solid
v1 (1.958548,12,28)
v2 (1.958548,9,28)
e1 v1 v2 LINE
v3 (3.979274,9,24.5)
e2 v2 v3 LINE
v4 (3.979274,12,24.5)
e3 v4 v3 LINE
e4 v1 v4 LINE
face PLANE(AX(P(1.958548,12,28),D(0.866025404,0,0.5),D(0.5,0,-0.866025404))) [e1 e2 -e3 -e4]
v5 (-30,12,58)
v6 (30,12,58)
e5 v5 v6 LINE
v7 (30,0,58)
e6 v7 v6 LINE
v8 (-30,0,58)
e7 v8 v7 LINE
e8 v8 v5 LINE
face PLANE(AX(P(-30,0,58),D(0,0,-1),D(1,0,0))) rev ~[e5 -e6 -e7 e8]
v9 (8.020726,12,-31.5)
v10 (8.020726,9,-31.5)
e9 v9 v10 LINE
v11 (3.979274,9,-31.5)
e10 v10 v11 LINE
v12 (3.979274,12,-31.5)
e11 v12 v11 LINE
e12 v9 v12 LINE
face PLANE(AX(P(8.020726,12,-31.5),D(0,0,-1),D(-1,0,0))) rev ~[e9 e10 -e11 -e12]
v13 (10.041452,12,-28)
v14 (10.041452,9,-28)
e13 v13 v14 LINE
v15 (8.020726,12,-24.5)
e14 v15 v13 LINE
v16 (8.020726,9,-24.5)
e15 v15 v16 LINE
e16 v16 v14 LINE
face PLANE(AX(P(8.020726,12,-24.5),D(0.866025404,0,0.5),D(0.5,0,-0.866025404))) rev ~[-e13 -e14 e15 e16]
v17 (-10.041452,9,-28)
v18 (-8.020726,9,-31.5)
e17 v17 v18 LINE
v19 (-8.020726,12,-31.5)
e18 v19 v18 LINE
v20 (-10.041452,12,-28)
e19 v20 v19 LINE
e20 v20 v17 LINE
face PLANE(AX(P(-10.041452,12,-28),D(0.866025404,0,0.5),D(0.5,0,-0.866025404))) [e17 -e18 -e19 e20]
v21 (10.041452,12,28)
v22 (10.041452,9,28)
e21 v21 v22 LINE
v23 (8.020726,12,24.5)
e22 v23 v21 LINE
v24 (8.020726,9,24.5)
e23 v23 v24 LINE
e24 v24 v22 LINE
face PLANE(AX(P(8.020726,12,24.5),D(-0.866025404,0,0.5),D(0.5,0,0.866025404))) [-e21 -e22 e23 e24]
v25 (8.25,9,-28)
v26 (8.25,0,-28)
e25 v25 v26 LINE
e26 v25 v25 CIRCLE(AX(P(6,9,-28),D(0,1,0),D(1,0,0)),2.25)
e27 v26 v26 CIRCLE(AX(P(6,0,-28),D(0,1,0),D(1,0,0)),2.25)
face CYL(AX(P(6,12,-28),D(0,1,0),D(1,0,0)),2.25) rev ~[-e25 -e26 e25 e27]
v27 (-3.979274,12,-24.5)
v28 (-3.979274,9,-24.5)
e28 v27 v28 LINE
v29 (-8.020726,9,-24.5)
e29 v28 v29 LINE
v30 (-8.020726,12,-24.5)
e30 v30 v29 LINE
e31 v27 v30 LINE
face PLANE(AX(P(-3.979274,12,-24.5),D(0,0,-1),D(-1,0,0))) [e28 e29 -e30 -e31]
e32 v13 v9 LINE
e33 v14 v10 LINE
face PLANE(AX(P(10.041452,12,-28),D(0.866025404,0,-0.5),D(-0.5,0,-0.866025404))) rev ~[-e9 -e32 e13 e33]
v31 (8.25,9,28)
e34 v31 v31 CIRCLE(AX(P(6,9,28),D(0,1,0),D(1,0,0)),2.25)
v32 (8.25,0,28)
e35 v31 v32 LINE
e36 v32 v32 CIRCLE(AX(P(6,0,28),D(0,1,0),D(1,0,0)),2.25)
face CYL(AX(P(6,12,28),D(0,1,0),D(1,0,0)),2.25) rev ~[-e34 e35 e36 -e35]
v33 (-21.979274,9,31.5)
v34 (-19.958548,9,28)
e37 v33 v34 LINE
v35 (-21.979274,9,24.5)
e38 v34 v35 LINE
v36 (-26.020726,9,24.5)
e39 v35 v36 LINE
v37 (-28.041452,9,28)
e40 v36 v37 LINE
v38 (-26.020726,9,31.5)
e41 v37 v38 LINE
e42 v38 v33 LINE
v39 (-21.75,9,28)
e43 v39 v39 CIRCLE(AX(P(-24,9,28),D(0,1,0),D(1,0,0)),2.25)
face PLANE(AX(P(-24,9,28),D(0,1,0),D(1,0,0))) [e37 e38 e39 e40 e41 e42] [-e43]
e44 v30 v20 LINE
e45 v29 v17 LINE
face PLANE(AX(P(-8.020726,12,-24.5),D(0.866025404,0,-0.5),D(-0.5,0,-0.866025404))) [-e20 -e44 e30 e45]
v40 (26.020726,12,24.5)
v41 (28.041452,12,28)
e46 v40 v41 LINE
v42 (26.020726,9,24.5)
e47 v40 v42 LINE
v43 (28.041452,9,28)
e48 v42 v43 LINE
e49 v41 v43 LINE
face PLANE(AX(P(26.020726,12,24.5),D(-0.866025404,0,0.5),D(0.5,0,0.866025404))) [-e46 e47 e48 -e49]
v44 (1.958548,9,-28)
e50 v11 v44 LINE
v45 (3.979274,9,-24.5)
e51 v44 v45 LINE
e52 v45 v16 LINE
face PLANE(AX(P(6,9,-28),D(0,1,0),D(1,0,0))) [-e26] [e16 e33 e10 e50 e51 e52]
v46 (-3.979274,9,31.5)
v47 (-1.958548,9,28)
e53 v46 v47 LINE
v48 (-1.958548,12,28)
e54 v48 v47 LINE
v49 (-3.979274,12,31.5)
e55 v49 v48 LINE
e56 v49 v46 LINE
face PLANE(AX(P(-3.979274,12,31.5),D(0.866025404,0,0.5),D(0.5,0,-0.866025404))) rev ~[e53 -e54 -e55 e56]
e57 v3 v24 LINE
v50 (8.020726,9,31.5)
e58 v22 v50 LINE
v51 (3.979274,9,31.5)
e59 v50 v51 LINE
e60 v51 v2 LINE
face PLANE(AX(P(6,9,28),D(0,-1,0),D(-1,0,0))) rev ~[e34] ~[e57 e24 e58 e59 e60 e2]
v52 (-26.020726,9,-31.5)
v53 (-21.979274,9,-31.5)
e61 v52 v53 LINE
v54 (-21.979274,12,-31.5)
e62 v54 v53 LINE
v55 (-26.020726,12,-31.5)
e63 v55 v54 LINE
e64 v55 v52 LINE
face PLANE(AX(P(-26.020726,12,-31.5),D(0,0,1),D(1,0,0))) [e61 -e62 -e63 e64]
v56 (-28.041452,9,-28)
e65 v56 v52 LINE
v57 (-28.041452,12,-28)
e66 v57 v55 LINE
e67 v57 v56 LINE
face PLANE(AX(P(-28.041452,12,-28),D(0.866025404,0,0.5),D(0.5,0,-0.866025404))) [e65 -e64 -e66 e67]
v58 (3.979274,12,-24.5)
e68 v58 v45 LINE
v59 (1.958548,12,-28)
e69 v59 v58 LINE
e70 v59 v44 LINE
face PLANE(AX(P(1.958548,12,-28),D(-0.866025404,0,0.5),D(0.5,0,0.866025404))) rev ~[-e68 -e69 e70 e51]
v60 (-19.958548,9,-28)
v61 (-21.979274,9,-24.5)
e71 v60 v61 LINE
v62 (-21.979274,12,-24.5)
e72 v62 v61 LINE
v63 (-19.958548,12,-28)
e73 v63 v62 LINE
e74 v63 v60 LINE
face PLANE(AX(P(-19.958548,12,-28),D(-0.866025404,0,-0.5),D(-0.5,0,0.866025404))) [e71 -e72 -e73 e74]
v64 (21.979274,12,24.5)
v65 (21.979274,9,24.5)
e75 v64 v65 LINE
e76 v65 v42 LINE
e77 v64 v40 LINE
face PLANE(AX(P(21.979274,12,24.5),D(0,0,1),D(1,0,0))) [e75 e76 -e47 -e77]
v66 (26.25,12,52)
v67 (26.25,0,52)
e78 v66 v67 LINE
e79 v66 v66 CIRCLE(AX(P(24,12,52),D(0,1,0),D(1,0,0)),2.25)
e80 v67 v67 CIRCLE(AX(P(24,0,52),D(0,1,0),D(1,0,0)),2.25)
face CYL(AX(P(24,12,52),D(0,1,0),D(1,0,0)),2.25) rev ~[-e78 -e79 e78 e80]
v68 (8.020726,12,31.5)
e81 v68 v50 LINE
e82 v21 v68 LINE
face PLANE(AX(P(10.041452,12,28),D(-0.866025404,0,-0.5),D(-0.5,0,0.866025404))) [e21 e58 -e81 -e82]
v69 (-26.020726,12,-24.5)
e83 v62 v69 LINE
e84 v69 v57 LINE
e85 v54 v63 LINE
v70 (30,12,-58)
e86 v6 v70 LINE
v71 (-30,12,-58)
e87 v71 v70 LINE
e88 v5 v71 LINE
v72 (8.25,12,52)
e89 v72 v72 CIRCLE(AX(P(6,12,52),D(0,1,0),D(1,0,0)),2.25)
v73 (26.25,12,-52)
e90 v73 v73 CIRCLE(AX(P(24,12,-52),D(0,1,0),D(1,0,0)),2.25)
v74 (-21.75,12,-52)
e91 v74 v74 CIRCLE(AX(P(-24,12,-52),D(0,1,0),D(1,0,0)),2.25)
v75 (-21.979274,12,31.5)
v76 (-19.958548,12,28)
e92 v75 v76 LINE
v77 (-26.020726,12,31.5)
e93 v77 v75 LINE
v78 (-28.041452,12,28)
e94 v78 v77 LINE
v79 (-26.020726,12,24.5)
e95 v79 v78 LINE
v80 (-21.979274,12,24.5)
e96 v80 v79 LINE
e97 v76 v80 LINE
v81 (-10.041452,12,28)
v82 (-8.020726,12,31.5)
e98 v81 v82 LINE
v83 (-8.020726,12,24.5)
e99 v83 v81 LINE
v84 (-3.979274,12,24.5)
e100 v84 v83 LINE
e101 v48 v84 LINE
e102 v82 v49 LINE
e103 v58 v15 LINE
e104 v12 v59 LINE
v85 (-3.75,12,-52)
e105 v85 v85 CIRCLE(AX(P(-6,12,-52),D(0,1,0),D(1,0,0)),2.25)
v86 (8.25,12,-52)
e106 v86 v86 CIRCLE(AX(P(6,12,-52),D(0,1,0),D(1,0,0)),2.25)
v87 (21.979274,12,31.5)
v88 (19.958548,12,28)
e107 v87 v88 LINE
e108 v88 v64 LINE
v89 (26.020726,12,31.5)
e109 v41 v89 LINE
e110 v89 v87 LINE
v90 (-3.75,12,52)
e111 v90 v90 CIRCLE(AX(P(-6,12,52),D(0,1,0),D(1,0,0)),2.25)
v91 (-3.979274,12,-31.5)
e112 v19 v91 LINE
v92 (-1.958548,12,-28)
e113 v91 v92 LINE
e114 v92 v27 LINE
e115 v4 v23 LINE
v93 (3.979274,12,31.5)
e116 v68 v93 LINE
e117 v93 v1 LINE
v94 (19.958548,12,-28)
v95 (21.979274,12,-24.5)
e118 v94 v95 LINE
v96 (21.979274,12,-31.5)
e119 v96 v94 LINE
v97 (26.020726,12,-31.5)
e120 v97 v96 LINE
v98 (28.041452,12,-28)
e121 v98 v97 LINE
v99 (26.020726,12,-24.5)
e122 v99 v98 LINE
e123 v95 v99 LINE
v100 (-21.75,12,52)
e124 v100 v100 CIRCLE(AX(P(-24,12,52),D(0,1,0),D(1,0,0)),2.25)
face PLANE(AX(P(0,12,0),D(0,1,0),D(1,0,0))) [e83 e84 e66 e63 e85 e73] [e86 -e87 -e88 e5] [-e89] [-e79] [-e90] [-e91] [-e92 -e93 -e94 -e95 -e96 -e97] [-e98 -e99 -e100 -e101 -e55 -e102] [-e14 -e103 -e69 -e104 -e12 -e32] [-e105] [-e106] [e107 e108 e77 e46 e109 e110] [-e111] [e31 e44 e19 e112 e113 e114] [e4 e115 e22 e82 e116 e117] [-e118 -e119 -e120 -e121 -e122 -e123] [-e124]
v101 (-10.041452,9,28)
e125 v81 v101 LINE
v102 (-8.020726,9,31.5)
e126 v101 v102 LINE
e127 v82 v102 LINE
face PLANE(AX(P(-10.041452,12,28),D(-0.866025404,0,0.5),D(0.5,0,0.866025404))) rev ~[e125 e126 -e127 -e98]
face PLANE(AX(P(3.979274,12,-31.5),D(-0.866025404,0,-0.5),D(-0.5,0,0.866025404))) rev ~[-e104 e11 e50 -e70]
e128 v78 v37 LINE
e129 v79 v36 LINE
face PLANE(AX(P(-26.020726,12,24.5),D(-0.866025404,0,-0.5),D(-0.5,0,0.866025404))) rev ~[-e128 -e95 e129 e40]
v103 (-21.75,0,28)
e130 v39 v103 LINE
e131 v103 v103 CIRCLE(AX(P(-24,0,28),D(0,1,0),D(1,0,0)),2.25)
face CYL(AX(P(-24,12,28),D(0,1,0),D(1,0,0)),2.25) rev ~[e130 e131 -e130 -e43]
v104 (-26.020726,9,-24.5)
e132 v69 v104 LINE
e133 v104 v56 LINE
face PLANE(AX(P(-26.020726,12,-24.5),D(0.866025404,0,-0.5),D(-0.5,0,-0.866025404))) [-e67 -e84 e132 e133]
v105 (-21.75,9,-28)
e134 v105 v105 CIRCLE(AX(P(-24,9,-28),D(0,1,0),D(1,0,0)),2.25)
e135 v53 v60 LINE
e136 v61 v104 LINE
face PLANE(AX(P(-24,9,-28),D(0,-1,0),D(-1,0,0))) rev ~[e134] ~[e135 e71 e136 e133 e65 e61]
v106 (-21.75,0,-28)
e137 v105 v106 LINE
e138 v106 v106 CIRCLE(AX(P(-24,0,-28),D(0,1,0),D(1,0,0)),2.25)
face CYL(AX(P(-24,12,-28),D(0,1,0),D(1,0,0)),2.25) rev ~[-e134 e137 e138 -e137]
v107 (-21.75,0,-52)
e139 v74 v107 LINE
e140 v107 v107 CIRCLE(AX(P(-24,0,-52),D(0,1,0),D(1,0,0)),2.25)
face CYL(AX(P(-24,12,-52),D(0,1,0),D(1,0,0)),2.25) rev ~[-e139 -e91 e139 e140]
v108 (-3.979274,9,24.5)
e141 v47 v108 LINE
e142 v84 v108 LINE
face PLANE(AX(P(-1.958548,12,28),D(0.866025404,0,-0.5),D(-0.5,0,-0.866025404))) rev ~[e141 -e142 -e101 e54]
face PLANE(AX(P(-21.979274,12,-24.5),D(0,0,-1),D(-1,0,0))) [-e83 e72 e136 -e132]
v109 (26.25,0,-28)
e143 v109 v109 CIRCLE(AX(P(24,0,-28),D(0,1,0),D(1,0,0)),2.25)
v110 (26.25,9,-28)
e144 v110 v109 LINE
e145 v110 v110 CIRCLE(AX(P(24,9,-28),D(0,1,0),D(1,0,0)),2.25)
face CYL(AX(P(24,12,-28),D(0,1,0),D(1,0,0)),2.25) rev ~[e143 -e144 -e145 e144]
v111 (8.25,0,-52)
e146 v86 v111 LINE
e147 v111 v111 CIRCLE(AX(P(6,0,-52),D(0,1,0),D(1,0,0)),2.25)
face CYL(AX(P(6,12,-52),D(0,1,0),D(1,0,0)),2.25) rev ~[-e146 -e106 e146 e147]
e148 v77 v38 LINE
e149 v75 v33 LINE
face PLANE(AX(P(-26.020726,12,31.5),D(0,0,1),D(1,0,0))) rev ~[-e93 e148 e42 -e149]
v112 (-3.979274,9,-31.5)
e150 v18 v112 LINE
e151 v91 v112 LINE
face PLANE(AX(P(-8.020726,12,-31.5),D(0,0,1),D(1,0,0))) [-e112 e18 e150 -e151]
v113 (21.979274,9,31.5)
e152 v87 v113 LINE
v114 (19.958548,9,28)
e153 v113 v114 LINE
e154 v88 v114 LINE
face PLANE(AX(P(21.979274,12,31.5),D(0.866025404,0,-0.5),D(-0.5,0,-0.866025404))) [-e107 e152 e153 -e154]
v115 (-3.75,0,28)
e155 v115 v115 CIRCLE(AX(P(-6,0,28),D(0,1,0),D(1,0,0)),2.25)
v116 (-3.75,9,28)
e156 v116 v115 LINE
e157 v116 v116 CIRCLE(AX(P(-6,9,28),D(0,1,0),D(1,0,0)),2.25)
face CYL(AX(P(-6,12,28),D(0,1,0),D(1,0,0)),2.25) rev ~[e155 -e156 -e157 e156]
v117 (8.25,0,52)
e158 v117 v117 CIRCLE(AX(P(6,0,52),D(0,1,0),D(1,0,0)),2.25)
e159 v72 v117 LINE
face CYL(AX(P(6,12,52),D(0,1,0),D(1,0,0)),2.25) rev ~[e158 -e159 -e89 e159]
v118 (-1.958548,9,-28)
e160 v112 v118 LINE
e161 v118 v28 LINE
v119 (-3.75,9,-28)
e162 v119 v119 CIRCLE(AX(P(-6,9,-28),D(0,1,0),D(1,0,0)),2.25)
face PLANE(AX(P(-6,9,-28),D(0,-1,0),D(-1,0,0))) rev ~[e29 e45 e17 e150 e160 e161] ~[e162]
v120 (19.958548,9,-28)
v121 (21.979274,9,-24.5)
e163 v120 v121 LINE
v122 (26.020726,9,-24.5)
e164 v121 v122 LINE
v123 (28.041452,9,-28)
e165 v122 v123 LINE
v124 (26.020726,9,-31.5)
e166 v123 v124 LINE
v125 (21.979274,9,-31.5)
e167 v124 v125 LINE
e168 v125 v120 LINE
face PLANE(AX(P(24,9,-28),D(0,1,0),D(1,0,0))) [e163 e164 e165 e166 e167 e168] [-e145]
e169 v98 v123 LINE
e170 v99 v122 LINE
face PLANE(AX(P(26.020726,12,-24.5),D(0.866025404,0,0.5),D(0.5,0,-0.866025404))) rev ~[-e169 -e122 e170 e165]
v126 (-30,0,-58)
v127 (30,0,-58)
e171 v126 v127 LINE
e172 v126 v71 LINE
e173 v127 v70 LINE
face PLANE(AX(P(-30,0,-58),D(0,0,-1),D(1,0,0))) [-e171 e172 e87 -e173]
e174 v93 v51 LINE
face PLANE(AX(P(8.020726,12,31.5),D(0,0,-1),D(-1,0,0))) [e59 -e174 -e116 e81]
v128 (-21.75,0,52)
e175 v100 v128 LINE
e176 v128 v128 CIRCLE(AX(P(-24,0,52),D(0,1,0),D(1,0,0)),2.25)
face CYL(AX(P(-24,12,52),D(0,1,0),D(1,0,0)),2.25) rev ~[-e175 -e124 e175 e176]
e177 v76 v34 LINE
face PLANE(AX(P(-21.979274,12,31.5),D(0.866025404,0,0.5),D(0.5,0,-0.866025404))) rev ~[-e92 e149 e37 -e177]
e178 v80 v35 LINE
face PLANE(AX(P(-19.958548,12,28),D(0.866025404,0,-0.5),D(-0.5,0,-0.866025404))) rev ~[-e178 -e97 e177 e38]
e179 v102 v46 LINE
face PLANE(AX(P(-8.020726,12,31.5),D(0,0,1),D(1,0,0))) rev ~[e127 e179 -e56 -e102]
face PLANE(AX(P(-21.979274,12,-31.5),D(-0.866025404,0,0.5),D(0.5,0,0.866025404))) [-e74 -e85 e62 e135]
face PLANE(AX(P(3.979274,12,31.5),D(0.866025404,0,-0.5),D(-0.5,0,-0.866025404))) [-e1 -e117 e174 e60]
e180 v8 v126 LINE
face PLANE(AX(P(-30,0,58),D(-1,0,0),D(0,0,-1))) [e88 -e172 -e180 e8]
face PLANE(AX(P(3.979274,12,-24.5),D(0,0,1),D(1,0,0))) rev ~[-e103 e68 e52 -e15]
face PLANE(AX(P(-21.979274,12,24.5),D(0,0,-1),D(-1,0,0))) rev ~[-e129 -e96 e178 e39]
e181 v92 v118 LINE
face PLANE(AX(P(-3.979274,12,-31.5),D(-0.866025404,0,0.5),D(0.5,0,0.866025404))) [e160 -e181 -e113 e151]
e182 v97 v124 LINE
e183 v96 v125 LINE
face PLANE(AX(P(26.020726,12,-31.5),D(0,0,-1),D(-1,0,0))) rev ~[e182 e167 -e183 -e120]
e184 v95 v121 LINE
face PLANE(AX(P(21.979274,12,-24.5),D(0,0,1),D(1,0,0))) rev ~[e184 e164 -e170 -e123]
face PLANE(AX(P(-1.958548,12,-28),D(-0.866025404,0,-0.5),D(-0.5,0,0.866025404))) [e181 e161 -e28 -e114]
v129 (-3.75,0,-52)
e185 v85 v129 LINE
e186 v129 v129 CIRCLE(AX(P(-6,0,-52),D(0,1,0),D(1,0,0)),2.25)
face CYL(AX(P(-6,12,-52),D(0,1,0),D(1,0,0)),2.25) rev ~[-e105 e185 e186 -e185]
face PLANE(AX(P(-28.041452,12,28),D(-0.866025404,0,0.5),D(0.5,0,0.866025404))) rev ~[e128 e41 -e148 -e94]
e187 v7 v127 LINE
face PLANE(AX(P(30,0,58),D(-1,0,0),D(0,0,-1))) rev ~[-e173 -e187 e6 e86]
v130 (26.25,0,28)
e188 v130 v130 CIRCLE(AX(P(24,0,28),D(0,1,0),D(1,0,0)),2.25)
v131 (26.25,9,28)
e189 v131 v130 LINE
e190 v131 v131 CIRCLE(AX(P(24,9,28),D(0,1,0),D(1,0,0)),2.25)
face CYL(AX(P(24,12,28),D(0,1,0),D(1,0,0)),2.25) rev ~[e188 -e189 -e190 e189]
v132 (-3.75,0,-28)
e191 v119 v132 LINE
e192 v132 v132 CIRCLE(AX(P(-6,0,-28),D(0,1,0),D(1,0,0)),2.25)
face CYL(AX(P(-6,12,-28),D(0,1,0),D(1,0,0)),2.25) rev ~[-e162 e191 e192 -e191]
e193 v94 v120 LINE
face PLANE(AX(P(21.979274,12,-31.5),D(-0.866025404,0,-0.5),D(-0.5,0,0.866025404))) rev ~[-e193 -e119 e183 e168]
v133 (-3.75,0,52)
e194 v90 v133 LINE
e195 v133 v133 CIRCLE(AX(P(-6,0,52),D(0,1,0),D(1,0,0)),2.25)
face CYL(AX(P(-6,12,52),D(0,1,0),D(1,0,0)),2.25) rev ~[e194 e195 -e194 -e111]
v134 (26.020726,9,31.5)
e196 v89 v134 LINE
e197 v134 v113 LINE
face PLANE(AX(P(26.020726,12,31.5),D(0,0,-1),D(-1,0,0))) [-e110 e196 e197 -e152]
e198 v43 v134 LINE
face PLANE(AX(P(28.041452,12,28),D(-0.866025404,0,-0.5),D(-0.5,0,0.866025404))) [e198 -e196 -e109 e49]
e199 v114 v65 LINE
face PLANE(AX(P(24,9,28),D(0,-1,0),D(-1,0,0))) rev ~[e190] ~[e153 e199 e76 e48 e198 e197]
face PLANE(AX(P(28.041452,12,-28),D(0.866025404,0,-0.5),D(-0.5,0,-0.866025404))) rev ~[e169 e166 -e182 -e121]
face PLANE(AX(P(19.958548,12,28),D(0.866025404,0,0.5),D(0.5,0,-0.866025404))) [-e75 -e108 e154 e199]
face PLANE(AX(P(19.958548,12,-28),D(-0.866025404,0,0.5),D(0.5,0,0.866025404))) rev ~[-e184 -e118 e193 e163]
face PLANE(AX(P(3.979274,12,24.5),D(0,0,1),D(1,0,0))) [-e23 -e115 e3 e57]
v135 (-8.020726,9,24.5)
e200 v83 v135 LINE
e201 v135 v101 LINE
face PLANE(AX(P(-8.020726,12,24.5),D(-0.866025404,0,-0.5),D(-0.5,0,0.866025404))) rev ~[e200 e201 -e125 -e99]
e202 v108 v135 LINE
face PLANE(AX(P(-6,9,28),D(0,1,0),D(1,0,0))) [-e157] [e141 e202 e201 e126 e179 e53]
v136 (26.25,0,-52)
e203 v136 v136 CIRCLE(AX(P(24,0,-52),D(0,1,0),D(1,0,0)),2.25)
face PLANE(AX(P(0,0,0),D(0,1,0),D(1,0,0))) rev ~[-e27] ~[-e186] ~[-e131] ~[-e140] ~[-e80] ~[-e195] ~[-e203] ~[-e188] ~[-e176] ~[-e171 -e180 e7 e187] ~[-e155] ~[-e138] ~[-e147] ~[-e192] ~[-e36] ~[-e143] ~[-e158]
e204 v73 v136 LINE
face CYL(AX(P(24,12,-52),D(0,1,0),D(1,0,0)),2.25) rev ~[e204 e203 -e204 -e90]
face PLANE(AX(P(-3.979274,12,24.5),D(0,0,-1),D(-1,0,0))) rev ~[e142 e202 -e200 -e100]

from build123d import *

# Parameters (mm, degrees)
SKETCH1_W                      = 60
SKETCH1_H                      = 116
BOSS_EXTRUDE1_DEPTH            = 12
CUT_EXTRUDE1_REACH             = 14
SKETCH2_R                      = 2.25
CUT_EXTRUDE1_DIRECTION_2_DEPTH = 1
CUT_EXTRUDE2_DEPTH             = 1
CUT_EXTRUDE2_DEPTH_BACK        = 3


with BuildPart() as part:
    # Sketch1 → Boss-Extrude1 (new body)
    with BuildSketch(Plane(origin=(0, 0, 0), x_dir=(1, 0, 0), z_dir=(0, 1, 0))):
        Rectangle(SKETCH1_W, SKETCH1_H)
    extrude(amount=BOSS_EXTRUDE1_DEPTH)

    # Sketch2 → Cut-Extrude1 (cut, up to next)
    with BuildSketch(Plane(origin=(0, 12, 0), x_dir=(1, 0, 0), z_dir=(0, 1, 0)), mode=Mode.PRIVATE) as cut_extrude1_sk1:
        with Locations((-24, 52)):
            Circle(SKETCH2_R)
    cut_extrude1_tool1 = extrude(cut_extrude1_sk1.sketch, amount=-CUT_EXTRUDE1_REACH, mode=Mode.PRIVATE) & part.part
    add(cut_extrude1_tool1.solids().sort_by_distance((-24, 12, -52))[0], mode=Mode.SUBTRACT)
    # Sketch2 → Cut-Extrude1 (cut, up to next)
    with BuildSketch(Plane(origin=(0, 12, 0), x_dir=(1, 0, 0), z_dir=(0, 1, 0)), mode=Mode.PRIVATE) as cut_extrude1_sk2:
        with Locations((-6, 52)):
            Circle(SKETCH2_R)
    cut_extrude1_tool2 = extrude(cut_extrude1_sk2.sketch, amount=-CUT_EXTRUDE1_REACH, mode=Mode.PRIVATE) & part.part
    add(cut_extrude1_tool2.solids().sort_by_distance((-6, 12, -52))[0], mode=Mode.SUBTRACT)
    # Sketch2 → Cut-Extrude1 (cut, up to next)
    with BuildSketch(Plane(origin=(0, 12, 0), x_dir=(1, 0, 0), z_dir=(0, 1, 0)), mode=Mode.PRIVATE) as cut_extrude1_sk3:
        with Locations((-24, 28)):
            Circle(SKETCH2_R)
    cut_extrude1_tool3 = extrude(cut_extrude1_sk3.sketch, amount=-CUT_EXTRUDE1_REACH, mode=Mode.PRIVATE) & part.part
    add(cut_extrude1_tool3.solids().sort_by_distance((-24, 12, -28))[0], mode=Mode.SUBTRACT)
    # Sketch2 → Cut-Extrude1 (cut, up to next)
    with BuildSketch(Plane(origin=(0, 12, 0), x_dir=(1, 0, 0), z_dir=(0, 1, 0)), mode=Mode.PRIVATE) as cut_extrude1_sk4:
        with Locations((-6, 28)):
            Circle(SKETCH2_R)
    cut_extrude1_tool4 = extrude(cut_extrude1_sk4.sketch, amount=-CUT_EXTRUDE1_REACH, mode=Mode.PRIVATE) & part.part
    add(cut_extrude1_tool4.solids().sort_by_distance((-6, 12, -28))[0], mode=Mode.SUBTRACT)
    # Sketch2 → Cut-Extrude1 (cut, up to next)
    with BuildSketch(Plane(origin=(0, 12, 0), x_dir=(1, 0, 0), z_dir=(0, 1, 0)), mode=Mode.PRIVATE) as cut_extrude1_sk5:
        with Locations((6, 28)):
            Circle(SKETCH2_R)
    cut_extrude1_tool5 = extrude(cut_extrude1_sk5.sketch, amount=-CUT_EXTRUDE1_REACH, mode=Mode.PRIVATE) & part.part
    add(cut_extrude1_tool5.solids().sort_by_distance((6, 12, -28))[0], mode=Mode.SUBTRACT)
    # Sketch2 → Cut-Extrude1 (cut, up to next)
    with BuildSketch(Plane(origin=(0, 12, 0), x_dir=(1, 0, 0), z_dir=(0, 1, 0)), mode=Mode.PRIVATE) as cut_extrude1_sk6:
        with Locations((24, 28)):
            Circle(SKETCH2_R)
    cut_extrude1_tool6 = extrude(cut_extrude1_sk6.sketch, amount=-CUT_EXTRUDE1_REACH, mode=Mode.PRIVATE) & part.part
    add(cut_extrude1_tool6.solids().sort_by_distance((24, 12, -28))[0], mode=Mode.SUBTRACT)
    # Sketch2 → Cut-Extrude1 (cut, up to next)
    with BuildSketch(Plane(origin=(0, 12, 0), x_dir=(1, 0, 0), z_dir=(0, 1, 0)), mode=Mode.PRIVATE) as cut_extrude1_sk7:
        with Locations((6, 52)):
            Circle(SKETCH2_R)
    cut_extrude1_tool7 = extrude(cut_extrude1_sk7.sketch, amount=-CUT_EXTRUDE1_REACH, mode=Mode.PRIVATE) & part.part
    add(cut_extrude1_tool7.solids().sort_by_distance((6, 12, -52))[0], mode=Mode.SUBTRACT)
    # Sketch2 → Cut-Extrude1 (cut, up to next)
    with BuildSketch(Plane(origin=(0, 12, 0), x_dir=(1, 0, 0), z_dir=(0, 1, 0)), mode=Mode.PRIVATE) as cut_extrude1_sk8:
        with Locations((24, 52)):
            Circle(SKETCH2_R)
    cut_extrude1_tool8 = extrude(cut_extrude1_sk8.sketch, amount=-CUT_EXTRUDE1_REACH, mode=Mode.PRIVATE) & part.part
    add(cut_extrude1_tool8.solids().sort_by_distance((24, 12, -52))[0], mode=Mode.SUBTRACT)
    # Sketch2 → Cut-Extrude1 (cut, up to next)
    with BuildSketch(Plane(origin=(0, 12, 0), x_dir=(1, 0, 0), z_dir=(0, 1, 0)), mode=Mode.PRIVATE) as cut_extrude1_sk9:
        with Locations((24, -52)):
            Circle(SKETCH2_R)
    cut_extrude1_tool9 = extrude(cut_extrude1_sk9.sketch, amount=-CUT_EXTRUDE1_REACH, mode=Mode.PRIVATE) & part.part
    add(cut_extrude1_tool9.solids().sort_by_distance((24, 12, 52))[0], mode=Mode.SUBTRACT)
    # Sketch2 → Cut-Extrude1 (cut, up to next)
    with BuildSketch(Plane(origin=(0, 12, 0), x_dir=(1, 0, 0), z_dir=(0, 1, 0)), mode=Mode.PRIVATE) as cut_extrude1_sk10:
        with Locations((6, -52)):
            Circle(SKETCH2_R)
    cut_extrude1_tool10 = extrude(cut_extrude1_sk10.sketch, amount=-CUT_EXTRUDE1_REACH, mode=Mode.PRIVATE) & part.part
    add(cut_extrude1_tool10.solids().sort_by_distance((6, 12, 52))[0], mode=Mode.SUBTRACT)
    # Sketch2 → Cut-Extrude1 (cut, up to next)
    with BuildSketch(Plane(origin=(0, 12, 0), x_dir=(1, 0, 0), z_dir=(0, 1, 0)), mode=Mode.PRIVATE) as cut_extrude1_sk11:
        with Locations((24, -28)):
            Circle(SKETCH2_R)
    cut_extrude1_tool11 = extrude(cut_extrude1_sk11.sketch, amount=-CUT_EXTRUDE1_REACH, mode=Mode.PRIVATE) & part.part
    add(cut_extrude1_tool11.solids().sort_by_distance((24, 12, 28))[0], mode=Mode.SUBTRACT)
    # Sketch2 → Cut-Extrude1 (cut, up to next)
    with BuildSketch(Plane(origin=(0, 12, 0), x_dir=(1, 0, 0), z_dir=(0, 1, 0)), mode=Mode.PRIVATE) as cut_extrude1_sk12:
        with Locations((6, -28)):
            Circle(SKETCH2_R)
    cut_extrude1_tool12 = extrude(cut_extrude1_sk12.sketch, amount=-CUT_EXTRUDE1_REACH, mode=Mode.PRIVATE) & part.part
    add(cut_extrude1_tool12.solids().sort_by_distance((6, 12, 28))[0], mode=Mode.SUBTRACT)
    # Sketch2 → Cut-Extrude1 (cut, up to next)
    with BuildSketch(Plane(origin=(0, 12, 0), x_dir=(1, 0, 0), z_dir=(0, 1, 0)), mode=Mode.PRIVATE) as cut_extrude1_sk13:
        with Locations((-6, -28)):
            Circle(SKETCH2_R)
    cut_extrude1_tool13 = extrude(cut_extrude1_sk13.sketch, amount=-CUT_EXTRUDE1_REACH, mode=Mode.PRIVATE) & part.part
    add(cut_extrude1_tool13.solids().sort_by_distance((-6, 12, 28))[0], mode=Mode.SUBTRACT)
    # Sketch2 → Cut-Extrude1 (cut, up to next)
    with BuildSketch(Plane(origin=(0, 12, 0), x_dir=(1, 0, 0), z_dir=(0, 1, 0)), mode=Mode.PRIVATE) as cut_extrude1_sk14:
        with Locations((-24, -28)):
            Circle(SKETCH2_R)
    cut_extrude1_tool14 = extrude(cut_extrude1_sk14.sketch, amount=-CUT_EXTRUDE1_REACH, mode=Mode.PRIVATE) & part.part
    add(cut_extrude1_tool14.solids().sort_by_distance((-24, 12, 28))[0], mode=Mode.SUBTRACT)
    # Sketch2 → Cut-Extrude1 (cut, up to next)
    with BuildSketch(Plane(origin=(0, 12, 0), x_dir=(1, 0, 0), z_dir=(0, 1, 0)), mode=Mode.PRIVATE) as cut_extrude1_sk15:
        with Locations((-6, -52)):
            Circle(SKETCH2_R)
    cut_extrude1_tool15 = extrude(cut_extrude1_sk15.sketch, amount=-CUT_EXTRUDE1_REACH, mode=Mode.PRIVATE) & part.part
    add(cut_extrude1_tool15.solids().sort_by_distance((-6, 12, 52))[0], mode=Mode.SUBTRACT)
    # Sketch2 → Cut-Extrude1 (cut, up to next)
    with BuildSketch(Plane(origin=(0, 12, 0), x_dir=(1, 0, 0), z_dir=(0, 1, 0)), mode=Mode.PRIVATE) as cut_extrude1_sk16:
        with Locations((-24, -52)):
            Circle(SKETCH2_R)
    cut_extrude1_tool16 = extrude(cut_extrude1_sk16.sketch, amount=-CUT_EXTRUDE1_REACH, mode=Mode.PRIVATE) & part.part
    add(cut_extrude1_tool16.solids().sort_by_distance((-24, 12, 52))[0], mode=Mode.SUBTRACT)

    # Sketch2 → Cut-Extrude1 direction 2 (cut)
    with BuildSketch(Plane(origin=(0, 12, 0), x_dir=(1, 0, 0), z_dir=(0, 1, 0))):
        with Locations((-24, 52)):
            Circle(SKETCH2_R)
        with Locations((-6, 52)):
            Circle(SKETCH2_R)
        with Locations((-24, 28)):
            Circle(SKETCH2_R)
        with Locations((-6, 28)):
            Circle(SKETCH2_R)
        with Locations((6, 28)):
            Circle(SKETCH2_R)
        with Locations((24, 28)):
            Circle(SKETCH2_R)
        with Locations((6, 52)):
            Circle(SKETCH2_R)
        with Locations((24, 52)):
            Circle(SKETCH2_R)
        with Locations((24, -52)):
            Circle(SKETCH2_R)
        with Locations((6, -52)):
            Circle(SKETCH2_R)
        with Locations((24, -28)):
            Circle(SKETCH2_R)
        with Locations((6, -28)):
            Circle(SKETCH2_R)
        with Locations((-6, -28)):
            Circle(SKETCH2_R)
        with Locations((-24, -28)):
            Circle(SKETCH2_R)
        with Locations((-6, -52)):
            Circle(SKETCH2_R)
        with Locations((-24, -52)):
            Circle(SKETCH2_R)
    extrude(amount=CUT_EXTRUDE1_DIRECTION_2_DEPTH, mode=Mode.SUBTRACT)

    # Sketch3 → Cut-Extrude2 (cut, two sides)
    with BuildSketch(Plane(origin=(0, 12, 0), x_dir=(1, 0, 0), z_dir=(0, 1, 0))) as cut_extrude2_sk:
        Polygon((-19.958548116, -28), (-21.979274058, -24.5), (-26.020725942, -24.5), (-28.041451884, -28), (-26.020725942, -31.5), (-21.979274058, -31.5), align=None)
        Polygon((-1.958548116, -28), (-3.979274058, -24.5), (-8.020725942, -24.5), (-10.041451884, -28), (-8.020725942, -31.5), (-3.979274058, -31.5), align=None)
        Polygon((3.979274058, -31.5), (1.958548116, -28), (3.979274058, -24.5), (8.020725942, -24.5), (10.041451884, -28), (8.020725942, -31.5), align=None)
        Polygon((21.979274058, -31.5), (19.958548116, -28), (21.979274058, -24.5), (26.020725942, -24.5), (28.041451884, -28), (26.020725942, -31.5), align=None)
        Polygon((26.020725942, 31.5), (21.979274058, 31.5), (19.958548116, 28), (21.979274058, 24.5), (26.020725942, 24.5), (28.041451884, 28), align=None)
        Polygon((8.020725942, 31.5), (3.979274058, 31.5), (1.958548116, 28), (3.979274058, 24.5), (8.020725942, 24.5), (10.041451884, 28), align=None)
        Polygon((-3.979274058, 31.5), (-1.958548116, 28), (-3.979274058, 24.5), (-8.020725942, 24.5), (-10.041451884, 28), (-8.020725942, 31.5), align=None)
        Polygon((-21.979274058, 31.5), (-19.958548116, 28), (-21.979274058, 24.5), (-26.020725942, 24.5), (-28.041451884, 28), (-26.020725942, 31.5), align=None)
    extrude(amount=CUT_EXTRUDE2_DEPTH, mode=Mode.SUBTRACT)
    extrude(cut_extrude2_sk.sketch, amount=-CUT_EXTRUDE2_DEPTH_BACK, mode=Mode.SUBTRACT)


solid = part.part
